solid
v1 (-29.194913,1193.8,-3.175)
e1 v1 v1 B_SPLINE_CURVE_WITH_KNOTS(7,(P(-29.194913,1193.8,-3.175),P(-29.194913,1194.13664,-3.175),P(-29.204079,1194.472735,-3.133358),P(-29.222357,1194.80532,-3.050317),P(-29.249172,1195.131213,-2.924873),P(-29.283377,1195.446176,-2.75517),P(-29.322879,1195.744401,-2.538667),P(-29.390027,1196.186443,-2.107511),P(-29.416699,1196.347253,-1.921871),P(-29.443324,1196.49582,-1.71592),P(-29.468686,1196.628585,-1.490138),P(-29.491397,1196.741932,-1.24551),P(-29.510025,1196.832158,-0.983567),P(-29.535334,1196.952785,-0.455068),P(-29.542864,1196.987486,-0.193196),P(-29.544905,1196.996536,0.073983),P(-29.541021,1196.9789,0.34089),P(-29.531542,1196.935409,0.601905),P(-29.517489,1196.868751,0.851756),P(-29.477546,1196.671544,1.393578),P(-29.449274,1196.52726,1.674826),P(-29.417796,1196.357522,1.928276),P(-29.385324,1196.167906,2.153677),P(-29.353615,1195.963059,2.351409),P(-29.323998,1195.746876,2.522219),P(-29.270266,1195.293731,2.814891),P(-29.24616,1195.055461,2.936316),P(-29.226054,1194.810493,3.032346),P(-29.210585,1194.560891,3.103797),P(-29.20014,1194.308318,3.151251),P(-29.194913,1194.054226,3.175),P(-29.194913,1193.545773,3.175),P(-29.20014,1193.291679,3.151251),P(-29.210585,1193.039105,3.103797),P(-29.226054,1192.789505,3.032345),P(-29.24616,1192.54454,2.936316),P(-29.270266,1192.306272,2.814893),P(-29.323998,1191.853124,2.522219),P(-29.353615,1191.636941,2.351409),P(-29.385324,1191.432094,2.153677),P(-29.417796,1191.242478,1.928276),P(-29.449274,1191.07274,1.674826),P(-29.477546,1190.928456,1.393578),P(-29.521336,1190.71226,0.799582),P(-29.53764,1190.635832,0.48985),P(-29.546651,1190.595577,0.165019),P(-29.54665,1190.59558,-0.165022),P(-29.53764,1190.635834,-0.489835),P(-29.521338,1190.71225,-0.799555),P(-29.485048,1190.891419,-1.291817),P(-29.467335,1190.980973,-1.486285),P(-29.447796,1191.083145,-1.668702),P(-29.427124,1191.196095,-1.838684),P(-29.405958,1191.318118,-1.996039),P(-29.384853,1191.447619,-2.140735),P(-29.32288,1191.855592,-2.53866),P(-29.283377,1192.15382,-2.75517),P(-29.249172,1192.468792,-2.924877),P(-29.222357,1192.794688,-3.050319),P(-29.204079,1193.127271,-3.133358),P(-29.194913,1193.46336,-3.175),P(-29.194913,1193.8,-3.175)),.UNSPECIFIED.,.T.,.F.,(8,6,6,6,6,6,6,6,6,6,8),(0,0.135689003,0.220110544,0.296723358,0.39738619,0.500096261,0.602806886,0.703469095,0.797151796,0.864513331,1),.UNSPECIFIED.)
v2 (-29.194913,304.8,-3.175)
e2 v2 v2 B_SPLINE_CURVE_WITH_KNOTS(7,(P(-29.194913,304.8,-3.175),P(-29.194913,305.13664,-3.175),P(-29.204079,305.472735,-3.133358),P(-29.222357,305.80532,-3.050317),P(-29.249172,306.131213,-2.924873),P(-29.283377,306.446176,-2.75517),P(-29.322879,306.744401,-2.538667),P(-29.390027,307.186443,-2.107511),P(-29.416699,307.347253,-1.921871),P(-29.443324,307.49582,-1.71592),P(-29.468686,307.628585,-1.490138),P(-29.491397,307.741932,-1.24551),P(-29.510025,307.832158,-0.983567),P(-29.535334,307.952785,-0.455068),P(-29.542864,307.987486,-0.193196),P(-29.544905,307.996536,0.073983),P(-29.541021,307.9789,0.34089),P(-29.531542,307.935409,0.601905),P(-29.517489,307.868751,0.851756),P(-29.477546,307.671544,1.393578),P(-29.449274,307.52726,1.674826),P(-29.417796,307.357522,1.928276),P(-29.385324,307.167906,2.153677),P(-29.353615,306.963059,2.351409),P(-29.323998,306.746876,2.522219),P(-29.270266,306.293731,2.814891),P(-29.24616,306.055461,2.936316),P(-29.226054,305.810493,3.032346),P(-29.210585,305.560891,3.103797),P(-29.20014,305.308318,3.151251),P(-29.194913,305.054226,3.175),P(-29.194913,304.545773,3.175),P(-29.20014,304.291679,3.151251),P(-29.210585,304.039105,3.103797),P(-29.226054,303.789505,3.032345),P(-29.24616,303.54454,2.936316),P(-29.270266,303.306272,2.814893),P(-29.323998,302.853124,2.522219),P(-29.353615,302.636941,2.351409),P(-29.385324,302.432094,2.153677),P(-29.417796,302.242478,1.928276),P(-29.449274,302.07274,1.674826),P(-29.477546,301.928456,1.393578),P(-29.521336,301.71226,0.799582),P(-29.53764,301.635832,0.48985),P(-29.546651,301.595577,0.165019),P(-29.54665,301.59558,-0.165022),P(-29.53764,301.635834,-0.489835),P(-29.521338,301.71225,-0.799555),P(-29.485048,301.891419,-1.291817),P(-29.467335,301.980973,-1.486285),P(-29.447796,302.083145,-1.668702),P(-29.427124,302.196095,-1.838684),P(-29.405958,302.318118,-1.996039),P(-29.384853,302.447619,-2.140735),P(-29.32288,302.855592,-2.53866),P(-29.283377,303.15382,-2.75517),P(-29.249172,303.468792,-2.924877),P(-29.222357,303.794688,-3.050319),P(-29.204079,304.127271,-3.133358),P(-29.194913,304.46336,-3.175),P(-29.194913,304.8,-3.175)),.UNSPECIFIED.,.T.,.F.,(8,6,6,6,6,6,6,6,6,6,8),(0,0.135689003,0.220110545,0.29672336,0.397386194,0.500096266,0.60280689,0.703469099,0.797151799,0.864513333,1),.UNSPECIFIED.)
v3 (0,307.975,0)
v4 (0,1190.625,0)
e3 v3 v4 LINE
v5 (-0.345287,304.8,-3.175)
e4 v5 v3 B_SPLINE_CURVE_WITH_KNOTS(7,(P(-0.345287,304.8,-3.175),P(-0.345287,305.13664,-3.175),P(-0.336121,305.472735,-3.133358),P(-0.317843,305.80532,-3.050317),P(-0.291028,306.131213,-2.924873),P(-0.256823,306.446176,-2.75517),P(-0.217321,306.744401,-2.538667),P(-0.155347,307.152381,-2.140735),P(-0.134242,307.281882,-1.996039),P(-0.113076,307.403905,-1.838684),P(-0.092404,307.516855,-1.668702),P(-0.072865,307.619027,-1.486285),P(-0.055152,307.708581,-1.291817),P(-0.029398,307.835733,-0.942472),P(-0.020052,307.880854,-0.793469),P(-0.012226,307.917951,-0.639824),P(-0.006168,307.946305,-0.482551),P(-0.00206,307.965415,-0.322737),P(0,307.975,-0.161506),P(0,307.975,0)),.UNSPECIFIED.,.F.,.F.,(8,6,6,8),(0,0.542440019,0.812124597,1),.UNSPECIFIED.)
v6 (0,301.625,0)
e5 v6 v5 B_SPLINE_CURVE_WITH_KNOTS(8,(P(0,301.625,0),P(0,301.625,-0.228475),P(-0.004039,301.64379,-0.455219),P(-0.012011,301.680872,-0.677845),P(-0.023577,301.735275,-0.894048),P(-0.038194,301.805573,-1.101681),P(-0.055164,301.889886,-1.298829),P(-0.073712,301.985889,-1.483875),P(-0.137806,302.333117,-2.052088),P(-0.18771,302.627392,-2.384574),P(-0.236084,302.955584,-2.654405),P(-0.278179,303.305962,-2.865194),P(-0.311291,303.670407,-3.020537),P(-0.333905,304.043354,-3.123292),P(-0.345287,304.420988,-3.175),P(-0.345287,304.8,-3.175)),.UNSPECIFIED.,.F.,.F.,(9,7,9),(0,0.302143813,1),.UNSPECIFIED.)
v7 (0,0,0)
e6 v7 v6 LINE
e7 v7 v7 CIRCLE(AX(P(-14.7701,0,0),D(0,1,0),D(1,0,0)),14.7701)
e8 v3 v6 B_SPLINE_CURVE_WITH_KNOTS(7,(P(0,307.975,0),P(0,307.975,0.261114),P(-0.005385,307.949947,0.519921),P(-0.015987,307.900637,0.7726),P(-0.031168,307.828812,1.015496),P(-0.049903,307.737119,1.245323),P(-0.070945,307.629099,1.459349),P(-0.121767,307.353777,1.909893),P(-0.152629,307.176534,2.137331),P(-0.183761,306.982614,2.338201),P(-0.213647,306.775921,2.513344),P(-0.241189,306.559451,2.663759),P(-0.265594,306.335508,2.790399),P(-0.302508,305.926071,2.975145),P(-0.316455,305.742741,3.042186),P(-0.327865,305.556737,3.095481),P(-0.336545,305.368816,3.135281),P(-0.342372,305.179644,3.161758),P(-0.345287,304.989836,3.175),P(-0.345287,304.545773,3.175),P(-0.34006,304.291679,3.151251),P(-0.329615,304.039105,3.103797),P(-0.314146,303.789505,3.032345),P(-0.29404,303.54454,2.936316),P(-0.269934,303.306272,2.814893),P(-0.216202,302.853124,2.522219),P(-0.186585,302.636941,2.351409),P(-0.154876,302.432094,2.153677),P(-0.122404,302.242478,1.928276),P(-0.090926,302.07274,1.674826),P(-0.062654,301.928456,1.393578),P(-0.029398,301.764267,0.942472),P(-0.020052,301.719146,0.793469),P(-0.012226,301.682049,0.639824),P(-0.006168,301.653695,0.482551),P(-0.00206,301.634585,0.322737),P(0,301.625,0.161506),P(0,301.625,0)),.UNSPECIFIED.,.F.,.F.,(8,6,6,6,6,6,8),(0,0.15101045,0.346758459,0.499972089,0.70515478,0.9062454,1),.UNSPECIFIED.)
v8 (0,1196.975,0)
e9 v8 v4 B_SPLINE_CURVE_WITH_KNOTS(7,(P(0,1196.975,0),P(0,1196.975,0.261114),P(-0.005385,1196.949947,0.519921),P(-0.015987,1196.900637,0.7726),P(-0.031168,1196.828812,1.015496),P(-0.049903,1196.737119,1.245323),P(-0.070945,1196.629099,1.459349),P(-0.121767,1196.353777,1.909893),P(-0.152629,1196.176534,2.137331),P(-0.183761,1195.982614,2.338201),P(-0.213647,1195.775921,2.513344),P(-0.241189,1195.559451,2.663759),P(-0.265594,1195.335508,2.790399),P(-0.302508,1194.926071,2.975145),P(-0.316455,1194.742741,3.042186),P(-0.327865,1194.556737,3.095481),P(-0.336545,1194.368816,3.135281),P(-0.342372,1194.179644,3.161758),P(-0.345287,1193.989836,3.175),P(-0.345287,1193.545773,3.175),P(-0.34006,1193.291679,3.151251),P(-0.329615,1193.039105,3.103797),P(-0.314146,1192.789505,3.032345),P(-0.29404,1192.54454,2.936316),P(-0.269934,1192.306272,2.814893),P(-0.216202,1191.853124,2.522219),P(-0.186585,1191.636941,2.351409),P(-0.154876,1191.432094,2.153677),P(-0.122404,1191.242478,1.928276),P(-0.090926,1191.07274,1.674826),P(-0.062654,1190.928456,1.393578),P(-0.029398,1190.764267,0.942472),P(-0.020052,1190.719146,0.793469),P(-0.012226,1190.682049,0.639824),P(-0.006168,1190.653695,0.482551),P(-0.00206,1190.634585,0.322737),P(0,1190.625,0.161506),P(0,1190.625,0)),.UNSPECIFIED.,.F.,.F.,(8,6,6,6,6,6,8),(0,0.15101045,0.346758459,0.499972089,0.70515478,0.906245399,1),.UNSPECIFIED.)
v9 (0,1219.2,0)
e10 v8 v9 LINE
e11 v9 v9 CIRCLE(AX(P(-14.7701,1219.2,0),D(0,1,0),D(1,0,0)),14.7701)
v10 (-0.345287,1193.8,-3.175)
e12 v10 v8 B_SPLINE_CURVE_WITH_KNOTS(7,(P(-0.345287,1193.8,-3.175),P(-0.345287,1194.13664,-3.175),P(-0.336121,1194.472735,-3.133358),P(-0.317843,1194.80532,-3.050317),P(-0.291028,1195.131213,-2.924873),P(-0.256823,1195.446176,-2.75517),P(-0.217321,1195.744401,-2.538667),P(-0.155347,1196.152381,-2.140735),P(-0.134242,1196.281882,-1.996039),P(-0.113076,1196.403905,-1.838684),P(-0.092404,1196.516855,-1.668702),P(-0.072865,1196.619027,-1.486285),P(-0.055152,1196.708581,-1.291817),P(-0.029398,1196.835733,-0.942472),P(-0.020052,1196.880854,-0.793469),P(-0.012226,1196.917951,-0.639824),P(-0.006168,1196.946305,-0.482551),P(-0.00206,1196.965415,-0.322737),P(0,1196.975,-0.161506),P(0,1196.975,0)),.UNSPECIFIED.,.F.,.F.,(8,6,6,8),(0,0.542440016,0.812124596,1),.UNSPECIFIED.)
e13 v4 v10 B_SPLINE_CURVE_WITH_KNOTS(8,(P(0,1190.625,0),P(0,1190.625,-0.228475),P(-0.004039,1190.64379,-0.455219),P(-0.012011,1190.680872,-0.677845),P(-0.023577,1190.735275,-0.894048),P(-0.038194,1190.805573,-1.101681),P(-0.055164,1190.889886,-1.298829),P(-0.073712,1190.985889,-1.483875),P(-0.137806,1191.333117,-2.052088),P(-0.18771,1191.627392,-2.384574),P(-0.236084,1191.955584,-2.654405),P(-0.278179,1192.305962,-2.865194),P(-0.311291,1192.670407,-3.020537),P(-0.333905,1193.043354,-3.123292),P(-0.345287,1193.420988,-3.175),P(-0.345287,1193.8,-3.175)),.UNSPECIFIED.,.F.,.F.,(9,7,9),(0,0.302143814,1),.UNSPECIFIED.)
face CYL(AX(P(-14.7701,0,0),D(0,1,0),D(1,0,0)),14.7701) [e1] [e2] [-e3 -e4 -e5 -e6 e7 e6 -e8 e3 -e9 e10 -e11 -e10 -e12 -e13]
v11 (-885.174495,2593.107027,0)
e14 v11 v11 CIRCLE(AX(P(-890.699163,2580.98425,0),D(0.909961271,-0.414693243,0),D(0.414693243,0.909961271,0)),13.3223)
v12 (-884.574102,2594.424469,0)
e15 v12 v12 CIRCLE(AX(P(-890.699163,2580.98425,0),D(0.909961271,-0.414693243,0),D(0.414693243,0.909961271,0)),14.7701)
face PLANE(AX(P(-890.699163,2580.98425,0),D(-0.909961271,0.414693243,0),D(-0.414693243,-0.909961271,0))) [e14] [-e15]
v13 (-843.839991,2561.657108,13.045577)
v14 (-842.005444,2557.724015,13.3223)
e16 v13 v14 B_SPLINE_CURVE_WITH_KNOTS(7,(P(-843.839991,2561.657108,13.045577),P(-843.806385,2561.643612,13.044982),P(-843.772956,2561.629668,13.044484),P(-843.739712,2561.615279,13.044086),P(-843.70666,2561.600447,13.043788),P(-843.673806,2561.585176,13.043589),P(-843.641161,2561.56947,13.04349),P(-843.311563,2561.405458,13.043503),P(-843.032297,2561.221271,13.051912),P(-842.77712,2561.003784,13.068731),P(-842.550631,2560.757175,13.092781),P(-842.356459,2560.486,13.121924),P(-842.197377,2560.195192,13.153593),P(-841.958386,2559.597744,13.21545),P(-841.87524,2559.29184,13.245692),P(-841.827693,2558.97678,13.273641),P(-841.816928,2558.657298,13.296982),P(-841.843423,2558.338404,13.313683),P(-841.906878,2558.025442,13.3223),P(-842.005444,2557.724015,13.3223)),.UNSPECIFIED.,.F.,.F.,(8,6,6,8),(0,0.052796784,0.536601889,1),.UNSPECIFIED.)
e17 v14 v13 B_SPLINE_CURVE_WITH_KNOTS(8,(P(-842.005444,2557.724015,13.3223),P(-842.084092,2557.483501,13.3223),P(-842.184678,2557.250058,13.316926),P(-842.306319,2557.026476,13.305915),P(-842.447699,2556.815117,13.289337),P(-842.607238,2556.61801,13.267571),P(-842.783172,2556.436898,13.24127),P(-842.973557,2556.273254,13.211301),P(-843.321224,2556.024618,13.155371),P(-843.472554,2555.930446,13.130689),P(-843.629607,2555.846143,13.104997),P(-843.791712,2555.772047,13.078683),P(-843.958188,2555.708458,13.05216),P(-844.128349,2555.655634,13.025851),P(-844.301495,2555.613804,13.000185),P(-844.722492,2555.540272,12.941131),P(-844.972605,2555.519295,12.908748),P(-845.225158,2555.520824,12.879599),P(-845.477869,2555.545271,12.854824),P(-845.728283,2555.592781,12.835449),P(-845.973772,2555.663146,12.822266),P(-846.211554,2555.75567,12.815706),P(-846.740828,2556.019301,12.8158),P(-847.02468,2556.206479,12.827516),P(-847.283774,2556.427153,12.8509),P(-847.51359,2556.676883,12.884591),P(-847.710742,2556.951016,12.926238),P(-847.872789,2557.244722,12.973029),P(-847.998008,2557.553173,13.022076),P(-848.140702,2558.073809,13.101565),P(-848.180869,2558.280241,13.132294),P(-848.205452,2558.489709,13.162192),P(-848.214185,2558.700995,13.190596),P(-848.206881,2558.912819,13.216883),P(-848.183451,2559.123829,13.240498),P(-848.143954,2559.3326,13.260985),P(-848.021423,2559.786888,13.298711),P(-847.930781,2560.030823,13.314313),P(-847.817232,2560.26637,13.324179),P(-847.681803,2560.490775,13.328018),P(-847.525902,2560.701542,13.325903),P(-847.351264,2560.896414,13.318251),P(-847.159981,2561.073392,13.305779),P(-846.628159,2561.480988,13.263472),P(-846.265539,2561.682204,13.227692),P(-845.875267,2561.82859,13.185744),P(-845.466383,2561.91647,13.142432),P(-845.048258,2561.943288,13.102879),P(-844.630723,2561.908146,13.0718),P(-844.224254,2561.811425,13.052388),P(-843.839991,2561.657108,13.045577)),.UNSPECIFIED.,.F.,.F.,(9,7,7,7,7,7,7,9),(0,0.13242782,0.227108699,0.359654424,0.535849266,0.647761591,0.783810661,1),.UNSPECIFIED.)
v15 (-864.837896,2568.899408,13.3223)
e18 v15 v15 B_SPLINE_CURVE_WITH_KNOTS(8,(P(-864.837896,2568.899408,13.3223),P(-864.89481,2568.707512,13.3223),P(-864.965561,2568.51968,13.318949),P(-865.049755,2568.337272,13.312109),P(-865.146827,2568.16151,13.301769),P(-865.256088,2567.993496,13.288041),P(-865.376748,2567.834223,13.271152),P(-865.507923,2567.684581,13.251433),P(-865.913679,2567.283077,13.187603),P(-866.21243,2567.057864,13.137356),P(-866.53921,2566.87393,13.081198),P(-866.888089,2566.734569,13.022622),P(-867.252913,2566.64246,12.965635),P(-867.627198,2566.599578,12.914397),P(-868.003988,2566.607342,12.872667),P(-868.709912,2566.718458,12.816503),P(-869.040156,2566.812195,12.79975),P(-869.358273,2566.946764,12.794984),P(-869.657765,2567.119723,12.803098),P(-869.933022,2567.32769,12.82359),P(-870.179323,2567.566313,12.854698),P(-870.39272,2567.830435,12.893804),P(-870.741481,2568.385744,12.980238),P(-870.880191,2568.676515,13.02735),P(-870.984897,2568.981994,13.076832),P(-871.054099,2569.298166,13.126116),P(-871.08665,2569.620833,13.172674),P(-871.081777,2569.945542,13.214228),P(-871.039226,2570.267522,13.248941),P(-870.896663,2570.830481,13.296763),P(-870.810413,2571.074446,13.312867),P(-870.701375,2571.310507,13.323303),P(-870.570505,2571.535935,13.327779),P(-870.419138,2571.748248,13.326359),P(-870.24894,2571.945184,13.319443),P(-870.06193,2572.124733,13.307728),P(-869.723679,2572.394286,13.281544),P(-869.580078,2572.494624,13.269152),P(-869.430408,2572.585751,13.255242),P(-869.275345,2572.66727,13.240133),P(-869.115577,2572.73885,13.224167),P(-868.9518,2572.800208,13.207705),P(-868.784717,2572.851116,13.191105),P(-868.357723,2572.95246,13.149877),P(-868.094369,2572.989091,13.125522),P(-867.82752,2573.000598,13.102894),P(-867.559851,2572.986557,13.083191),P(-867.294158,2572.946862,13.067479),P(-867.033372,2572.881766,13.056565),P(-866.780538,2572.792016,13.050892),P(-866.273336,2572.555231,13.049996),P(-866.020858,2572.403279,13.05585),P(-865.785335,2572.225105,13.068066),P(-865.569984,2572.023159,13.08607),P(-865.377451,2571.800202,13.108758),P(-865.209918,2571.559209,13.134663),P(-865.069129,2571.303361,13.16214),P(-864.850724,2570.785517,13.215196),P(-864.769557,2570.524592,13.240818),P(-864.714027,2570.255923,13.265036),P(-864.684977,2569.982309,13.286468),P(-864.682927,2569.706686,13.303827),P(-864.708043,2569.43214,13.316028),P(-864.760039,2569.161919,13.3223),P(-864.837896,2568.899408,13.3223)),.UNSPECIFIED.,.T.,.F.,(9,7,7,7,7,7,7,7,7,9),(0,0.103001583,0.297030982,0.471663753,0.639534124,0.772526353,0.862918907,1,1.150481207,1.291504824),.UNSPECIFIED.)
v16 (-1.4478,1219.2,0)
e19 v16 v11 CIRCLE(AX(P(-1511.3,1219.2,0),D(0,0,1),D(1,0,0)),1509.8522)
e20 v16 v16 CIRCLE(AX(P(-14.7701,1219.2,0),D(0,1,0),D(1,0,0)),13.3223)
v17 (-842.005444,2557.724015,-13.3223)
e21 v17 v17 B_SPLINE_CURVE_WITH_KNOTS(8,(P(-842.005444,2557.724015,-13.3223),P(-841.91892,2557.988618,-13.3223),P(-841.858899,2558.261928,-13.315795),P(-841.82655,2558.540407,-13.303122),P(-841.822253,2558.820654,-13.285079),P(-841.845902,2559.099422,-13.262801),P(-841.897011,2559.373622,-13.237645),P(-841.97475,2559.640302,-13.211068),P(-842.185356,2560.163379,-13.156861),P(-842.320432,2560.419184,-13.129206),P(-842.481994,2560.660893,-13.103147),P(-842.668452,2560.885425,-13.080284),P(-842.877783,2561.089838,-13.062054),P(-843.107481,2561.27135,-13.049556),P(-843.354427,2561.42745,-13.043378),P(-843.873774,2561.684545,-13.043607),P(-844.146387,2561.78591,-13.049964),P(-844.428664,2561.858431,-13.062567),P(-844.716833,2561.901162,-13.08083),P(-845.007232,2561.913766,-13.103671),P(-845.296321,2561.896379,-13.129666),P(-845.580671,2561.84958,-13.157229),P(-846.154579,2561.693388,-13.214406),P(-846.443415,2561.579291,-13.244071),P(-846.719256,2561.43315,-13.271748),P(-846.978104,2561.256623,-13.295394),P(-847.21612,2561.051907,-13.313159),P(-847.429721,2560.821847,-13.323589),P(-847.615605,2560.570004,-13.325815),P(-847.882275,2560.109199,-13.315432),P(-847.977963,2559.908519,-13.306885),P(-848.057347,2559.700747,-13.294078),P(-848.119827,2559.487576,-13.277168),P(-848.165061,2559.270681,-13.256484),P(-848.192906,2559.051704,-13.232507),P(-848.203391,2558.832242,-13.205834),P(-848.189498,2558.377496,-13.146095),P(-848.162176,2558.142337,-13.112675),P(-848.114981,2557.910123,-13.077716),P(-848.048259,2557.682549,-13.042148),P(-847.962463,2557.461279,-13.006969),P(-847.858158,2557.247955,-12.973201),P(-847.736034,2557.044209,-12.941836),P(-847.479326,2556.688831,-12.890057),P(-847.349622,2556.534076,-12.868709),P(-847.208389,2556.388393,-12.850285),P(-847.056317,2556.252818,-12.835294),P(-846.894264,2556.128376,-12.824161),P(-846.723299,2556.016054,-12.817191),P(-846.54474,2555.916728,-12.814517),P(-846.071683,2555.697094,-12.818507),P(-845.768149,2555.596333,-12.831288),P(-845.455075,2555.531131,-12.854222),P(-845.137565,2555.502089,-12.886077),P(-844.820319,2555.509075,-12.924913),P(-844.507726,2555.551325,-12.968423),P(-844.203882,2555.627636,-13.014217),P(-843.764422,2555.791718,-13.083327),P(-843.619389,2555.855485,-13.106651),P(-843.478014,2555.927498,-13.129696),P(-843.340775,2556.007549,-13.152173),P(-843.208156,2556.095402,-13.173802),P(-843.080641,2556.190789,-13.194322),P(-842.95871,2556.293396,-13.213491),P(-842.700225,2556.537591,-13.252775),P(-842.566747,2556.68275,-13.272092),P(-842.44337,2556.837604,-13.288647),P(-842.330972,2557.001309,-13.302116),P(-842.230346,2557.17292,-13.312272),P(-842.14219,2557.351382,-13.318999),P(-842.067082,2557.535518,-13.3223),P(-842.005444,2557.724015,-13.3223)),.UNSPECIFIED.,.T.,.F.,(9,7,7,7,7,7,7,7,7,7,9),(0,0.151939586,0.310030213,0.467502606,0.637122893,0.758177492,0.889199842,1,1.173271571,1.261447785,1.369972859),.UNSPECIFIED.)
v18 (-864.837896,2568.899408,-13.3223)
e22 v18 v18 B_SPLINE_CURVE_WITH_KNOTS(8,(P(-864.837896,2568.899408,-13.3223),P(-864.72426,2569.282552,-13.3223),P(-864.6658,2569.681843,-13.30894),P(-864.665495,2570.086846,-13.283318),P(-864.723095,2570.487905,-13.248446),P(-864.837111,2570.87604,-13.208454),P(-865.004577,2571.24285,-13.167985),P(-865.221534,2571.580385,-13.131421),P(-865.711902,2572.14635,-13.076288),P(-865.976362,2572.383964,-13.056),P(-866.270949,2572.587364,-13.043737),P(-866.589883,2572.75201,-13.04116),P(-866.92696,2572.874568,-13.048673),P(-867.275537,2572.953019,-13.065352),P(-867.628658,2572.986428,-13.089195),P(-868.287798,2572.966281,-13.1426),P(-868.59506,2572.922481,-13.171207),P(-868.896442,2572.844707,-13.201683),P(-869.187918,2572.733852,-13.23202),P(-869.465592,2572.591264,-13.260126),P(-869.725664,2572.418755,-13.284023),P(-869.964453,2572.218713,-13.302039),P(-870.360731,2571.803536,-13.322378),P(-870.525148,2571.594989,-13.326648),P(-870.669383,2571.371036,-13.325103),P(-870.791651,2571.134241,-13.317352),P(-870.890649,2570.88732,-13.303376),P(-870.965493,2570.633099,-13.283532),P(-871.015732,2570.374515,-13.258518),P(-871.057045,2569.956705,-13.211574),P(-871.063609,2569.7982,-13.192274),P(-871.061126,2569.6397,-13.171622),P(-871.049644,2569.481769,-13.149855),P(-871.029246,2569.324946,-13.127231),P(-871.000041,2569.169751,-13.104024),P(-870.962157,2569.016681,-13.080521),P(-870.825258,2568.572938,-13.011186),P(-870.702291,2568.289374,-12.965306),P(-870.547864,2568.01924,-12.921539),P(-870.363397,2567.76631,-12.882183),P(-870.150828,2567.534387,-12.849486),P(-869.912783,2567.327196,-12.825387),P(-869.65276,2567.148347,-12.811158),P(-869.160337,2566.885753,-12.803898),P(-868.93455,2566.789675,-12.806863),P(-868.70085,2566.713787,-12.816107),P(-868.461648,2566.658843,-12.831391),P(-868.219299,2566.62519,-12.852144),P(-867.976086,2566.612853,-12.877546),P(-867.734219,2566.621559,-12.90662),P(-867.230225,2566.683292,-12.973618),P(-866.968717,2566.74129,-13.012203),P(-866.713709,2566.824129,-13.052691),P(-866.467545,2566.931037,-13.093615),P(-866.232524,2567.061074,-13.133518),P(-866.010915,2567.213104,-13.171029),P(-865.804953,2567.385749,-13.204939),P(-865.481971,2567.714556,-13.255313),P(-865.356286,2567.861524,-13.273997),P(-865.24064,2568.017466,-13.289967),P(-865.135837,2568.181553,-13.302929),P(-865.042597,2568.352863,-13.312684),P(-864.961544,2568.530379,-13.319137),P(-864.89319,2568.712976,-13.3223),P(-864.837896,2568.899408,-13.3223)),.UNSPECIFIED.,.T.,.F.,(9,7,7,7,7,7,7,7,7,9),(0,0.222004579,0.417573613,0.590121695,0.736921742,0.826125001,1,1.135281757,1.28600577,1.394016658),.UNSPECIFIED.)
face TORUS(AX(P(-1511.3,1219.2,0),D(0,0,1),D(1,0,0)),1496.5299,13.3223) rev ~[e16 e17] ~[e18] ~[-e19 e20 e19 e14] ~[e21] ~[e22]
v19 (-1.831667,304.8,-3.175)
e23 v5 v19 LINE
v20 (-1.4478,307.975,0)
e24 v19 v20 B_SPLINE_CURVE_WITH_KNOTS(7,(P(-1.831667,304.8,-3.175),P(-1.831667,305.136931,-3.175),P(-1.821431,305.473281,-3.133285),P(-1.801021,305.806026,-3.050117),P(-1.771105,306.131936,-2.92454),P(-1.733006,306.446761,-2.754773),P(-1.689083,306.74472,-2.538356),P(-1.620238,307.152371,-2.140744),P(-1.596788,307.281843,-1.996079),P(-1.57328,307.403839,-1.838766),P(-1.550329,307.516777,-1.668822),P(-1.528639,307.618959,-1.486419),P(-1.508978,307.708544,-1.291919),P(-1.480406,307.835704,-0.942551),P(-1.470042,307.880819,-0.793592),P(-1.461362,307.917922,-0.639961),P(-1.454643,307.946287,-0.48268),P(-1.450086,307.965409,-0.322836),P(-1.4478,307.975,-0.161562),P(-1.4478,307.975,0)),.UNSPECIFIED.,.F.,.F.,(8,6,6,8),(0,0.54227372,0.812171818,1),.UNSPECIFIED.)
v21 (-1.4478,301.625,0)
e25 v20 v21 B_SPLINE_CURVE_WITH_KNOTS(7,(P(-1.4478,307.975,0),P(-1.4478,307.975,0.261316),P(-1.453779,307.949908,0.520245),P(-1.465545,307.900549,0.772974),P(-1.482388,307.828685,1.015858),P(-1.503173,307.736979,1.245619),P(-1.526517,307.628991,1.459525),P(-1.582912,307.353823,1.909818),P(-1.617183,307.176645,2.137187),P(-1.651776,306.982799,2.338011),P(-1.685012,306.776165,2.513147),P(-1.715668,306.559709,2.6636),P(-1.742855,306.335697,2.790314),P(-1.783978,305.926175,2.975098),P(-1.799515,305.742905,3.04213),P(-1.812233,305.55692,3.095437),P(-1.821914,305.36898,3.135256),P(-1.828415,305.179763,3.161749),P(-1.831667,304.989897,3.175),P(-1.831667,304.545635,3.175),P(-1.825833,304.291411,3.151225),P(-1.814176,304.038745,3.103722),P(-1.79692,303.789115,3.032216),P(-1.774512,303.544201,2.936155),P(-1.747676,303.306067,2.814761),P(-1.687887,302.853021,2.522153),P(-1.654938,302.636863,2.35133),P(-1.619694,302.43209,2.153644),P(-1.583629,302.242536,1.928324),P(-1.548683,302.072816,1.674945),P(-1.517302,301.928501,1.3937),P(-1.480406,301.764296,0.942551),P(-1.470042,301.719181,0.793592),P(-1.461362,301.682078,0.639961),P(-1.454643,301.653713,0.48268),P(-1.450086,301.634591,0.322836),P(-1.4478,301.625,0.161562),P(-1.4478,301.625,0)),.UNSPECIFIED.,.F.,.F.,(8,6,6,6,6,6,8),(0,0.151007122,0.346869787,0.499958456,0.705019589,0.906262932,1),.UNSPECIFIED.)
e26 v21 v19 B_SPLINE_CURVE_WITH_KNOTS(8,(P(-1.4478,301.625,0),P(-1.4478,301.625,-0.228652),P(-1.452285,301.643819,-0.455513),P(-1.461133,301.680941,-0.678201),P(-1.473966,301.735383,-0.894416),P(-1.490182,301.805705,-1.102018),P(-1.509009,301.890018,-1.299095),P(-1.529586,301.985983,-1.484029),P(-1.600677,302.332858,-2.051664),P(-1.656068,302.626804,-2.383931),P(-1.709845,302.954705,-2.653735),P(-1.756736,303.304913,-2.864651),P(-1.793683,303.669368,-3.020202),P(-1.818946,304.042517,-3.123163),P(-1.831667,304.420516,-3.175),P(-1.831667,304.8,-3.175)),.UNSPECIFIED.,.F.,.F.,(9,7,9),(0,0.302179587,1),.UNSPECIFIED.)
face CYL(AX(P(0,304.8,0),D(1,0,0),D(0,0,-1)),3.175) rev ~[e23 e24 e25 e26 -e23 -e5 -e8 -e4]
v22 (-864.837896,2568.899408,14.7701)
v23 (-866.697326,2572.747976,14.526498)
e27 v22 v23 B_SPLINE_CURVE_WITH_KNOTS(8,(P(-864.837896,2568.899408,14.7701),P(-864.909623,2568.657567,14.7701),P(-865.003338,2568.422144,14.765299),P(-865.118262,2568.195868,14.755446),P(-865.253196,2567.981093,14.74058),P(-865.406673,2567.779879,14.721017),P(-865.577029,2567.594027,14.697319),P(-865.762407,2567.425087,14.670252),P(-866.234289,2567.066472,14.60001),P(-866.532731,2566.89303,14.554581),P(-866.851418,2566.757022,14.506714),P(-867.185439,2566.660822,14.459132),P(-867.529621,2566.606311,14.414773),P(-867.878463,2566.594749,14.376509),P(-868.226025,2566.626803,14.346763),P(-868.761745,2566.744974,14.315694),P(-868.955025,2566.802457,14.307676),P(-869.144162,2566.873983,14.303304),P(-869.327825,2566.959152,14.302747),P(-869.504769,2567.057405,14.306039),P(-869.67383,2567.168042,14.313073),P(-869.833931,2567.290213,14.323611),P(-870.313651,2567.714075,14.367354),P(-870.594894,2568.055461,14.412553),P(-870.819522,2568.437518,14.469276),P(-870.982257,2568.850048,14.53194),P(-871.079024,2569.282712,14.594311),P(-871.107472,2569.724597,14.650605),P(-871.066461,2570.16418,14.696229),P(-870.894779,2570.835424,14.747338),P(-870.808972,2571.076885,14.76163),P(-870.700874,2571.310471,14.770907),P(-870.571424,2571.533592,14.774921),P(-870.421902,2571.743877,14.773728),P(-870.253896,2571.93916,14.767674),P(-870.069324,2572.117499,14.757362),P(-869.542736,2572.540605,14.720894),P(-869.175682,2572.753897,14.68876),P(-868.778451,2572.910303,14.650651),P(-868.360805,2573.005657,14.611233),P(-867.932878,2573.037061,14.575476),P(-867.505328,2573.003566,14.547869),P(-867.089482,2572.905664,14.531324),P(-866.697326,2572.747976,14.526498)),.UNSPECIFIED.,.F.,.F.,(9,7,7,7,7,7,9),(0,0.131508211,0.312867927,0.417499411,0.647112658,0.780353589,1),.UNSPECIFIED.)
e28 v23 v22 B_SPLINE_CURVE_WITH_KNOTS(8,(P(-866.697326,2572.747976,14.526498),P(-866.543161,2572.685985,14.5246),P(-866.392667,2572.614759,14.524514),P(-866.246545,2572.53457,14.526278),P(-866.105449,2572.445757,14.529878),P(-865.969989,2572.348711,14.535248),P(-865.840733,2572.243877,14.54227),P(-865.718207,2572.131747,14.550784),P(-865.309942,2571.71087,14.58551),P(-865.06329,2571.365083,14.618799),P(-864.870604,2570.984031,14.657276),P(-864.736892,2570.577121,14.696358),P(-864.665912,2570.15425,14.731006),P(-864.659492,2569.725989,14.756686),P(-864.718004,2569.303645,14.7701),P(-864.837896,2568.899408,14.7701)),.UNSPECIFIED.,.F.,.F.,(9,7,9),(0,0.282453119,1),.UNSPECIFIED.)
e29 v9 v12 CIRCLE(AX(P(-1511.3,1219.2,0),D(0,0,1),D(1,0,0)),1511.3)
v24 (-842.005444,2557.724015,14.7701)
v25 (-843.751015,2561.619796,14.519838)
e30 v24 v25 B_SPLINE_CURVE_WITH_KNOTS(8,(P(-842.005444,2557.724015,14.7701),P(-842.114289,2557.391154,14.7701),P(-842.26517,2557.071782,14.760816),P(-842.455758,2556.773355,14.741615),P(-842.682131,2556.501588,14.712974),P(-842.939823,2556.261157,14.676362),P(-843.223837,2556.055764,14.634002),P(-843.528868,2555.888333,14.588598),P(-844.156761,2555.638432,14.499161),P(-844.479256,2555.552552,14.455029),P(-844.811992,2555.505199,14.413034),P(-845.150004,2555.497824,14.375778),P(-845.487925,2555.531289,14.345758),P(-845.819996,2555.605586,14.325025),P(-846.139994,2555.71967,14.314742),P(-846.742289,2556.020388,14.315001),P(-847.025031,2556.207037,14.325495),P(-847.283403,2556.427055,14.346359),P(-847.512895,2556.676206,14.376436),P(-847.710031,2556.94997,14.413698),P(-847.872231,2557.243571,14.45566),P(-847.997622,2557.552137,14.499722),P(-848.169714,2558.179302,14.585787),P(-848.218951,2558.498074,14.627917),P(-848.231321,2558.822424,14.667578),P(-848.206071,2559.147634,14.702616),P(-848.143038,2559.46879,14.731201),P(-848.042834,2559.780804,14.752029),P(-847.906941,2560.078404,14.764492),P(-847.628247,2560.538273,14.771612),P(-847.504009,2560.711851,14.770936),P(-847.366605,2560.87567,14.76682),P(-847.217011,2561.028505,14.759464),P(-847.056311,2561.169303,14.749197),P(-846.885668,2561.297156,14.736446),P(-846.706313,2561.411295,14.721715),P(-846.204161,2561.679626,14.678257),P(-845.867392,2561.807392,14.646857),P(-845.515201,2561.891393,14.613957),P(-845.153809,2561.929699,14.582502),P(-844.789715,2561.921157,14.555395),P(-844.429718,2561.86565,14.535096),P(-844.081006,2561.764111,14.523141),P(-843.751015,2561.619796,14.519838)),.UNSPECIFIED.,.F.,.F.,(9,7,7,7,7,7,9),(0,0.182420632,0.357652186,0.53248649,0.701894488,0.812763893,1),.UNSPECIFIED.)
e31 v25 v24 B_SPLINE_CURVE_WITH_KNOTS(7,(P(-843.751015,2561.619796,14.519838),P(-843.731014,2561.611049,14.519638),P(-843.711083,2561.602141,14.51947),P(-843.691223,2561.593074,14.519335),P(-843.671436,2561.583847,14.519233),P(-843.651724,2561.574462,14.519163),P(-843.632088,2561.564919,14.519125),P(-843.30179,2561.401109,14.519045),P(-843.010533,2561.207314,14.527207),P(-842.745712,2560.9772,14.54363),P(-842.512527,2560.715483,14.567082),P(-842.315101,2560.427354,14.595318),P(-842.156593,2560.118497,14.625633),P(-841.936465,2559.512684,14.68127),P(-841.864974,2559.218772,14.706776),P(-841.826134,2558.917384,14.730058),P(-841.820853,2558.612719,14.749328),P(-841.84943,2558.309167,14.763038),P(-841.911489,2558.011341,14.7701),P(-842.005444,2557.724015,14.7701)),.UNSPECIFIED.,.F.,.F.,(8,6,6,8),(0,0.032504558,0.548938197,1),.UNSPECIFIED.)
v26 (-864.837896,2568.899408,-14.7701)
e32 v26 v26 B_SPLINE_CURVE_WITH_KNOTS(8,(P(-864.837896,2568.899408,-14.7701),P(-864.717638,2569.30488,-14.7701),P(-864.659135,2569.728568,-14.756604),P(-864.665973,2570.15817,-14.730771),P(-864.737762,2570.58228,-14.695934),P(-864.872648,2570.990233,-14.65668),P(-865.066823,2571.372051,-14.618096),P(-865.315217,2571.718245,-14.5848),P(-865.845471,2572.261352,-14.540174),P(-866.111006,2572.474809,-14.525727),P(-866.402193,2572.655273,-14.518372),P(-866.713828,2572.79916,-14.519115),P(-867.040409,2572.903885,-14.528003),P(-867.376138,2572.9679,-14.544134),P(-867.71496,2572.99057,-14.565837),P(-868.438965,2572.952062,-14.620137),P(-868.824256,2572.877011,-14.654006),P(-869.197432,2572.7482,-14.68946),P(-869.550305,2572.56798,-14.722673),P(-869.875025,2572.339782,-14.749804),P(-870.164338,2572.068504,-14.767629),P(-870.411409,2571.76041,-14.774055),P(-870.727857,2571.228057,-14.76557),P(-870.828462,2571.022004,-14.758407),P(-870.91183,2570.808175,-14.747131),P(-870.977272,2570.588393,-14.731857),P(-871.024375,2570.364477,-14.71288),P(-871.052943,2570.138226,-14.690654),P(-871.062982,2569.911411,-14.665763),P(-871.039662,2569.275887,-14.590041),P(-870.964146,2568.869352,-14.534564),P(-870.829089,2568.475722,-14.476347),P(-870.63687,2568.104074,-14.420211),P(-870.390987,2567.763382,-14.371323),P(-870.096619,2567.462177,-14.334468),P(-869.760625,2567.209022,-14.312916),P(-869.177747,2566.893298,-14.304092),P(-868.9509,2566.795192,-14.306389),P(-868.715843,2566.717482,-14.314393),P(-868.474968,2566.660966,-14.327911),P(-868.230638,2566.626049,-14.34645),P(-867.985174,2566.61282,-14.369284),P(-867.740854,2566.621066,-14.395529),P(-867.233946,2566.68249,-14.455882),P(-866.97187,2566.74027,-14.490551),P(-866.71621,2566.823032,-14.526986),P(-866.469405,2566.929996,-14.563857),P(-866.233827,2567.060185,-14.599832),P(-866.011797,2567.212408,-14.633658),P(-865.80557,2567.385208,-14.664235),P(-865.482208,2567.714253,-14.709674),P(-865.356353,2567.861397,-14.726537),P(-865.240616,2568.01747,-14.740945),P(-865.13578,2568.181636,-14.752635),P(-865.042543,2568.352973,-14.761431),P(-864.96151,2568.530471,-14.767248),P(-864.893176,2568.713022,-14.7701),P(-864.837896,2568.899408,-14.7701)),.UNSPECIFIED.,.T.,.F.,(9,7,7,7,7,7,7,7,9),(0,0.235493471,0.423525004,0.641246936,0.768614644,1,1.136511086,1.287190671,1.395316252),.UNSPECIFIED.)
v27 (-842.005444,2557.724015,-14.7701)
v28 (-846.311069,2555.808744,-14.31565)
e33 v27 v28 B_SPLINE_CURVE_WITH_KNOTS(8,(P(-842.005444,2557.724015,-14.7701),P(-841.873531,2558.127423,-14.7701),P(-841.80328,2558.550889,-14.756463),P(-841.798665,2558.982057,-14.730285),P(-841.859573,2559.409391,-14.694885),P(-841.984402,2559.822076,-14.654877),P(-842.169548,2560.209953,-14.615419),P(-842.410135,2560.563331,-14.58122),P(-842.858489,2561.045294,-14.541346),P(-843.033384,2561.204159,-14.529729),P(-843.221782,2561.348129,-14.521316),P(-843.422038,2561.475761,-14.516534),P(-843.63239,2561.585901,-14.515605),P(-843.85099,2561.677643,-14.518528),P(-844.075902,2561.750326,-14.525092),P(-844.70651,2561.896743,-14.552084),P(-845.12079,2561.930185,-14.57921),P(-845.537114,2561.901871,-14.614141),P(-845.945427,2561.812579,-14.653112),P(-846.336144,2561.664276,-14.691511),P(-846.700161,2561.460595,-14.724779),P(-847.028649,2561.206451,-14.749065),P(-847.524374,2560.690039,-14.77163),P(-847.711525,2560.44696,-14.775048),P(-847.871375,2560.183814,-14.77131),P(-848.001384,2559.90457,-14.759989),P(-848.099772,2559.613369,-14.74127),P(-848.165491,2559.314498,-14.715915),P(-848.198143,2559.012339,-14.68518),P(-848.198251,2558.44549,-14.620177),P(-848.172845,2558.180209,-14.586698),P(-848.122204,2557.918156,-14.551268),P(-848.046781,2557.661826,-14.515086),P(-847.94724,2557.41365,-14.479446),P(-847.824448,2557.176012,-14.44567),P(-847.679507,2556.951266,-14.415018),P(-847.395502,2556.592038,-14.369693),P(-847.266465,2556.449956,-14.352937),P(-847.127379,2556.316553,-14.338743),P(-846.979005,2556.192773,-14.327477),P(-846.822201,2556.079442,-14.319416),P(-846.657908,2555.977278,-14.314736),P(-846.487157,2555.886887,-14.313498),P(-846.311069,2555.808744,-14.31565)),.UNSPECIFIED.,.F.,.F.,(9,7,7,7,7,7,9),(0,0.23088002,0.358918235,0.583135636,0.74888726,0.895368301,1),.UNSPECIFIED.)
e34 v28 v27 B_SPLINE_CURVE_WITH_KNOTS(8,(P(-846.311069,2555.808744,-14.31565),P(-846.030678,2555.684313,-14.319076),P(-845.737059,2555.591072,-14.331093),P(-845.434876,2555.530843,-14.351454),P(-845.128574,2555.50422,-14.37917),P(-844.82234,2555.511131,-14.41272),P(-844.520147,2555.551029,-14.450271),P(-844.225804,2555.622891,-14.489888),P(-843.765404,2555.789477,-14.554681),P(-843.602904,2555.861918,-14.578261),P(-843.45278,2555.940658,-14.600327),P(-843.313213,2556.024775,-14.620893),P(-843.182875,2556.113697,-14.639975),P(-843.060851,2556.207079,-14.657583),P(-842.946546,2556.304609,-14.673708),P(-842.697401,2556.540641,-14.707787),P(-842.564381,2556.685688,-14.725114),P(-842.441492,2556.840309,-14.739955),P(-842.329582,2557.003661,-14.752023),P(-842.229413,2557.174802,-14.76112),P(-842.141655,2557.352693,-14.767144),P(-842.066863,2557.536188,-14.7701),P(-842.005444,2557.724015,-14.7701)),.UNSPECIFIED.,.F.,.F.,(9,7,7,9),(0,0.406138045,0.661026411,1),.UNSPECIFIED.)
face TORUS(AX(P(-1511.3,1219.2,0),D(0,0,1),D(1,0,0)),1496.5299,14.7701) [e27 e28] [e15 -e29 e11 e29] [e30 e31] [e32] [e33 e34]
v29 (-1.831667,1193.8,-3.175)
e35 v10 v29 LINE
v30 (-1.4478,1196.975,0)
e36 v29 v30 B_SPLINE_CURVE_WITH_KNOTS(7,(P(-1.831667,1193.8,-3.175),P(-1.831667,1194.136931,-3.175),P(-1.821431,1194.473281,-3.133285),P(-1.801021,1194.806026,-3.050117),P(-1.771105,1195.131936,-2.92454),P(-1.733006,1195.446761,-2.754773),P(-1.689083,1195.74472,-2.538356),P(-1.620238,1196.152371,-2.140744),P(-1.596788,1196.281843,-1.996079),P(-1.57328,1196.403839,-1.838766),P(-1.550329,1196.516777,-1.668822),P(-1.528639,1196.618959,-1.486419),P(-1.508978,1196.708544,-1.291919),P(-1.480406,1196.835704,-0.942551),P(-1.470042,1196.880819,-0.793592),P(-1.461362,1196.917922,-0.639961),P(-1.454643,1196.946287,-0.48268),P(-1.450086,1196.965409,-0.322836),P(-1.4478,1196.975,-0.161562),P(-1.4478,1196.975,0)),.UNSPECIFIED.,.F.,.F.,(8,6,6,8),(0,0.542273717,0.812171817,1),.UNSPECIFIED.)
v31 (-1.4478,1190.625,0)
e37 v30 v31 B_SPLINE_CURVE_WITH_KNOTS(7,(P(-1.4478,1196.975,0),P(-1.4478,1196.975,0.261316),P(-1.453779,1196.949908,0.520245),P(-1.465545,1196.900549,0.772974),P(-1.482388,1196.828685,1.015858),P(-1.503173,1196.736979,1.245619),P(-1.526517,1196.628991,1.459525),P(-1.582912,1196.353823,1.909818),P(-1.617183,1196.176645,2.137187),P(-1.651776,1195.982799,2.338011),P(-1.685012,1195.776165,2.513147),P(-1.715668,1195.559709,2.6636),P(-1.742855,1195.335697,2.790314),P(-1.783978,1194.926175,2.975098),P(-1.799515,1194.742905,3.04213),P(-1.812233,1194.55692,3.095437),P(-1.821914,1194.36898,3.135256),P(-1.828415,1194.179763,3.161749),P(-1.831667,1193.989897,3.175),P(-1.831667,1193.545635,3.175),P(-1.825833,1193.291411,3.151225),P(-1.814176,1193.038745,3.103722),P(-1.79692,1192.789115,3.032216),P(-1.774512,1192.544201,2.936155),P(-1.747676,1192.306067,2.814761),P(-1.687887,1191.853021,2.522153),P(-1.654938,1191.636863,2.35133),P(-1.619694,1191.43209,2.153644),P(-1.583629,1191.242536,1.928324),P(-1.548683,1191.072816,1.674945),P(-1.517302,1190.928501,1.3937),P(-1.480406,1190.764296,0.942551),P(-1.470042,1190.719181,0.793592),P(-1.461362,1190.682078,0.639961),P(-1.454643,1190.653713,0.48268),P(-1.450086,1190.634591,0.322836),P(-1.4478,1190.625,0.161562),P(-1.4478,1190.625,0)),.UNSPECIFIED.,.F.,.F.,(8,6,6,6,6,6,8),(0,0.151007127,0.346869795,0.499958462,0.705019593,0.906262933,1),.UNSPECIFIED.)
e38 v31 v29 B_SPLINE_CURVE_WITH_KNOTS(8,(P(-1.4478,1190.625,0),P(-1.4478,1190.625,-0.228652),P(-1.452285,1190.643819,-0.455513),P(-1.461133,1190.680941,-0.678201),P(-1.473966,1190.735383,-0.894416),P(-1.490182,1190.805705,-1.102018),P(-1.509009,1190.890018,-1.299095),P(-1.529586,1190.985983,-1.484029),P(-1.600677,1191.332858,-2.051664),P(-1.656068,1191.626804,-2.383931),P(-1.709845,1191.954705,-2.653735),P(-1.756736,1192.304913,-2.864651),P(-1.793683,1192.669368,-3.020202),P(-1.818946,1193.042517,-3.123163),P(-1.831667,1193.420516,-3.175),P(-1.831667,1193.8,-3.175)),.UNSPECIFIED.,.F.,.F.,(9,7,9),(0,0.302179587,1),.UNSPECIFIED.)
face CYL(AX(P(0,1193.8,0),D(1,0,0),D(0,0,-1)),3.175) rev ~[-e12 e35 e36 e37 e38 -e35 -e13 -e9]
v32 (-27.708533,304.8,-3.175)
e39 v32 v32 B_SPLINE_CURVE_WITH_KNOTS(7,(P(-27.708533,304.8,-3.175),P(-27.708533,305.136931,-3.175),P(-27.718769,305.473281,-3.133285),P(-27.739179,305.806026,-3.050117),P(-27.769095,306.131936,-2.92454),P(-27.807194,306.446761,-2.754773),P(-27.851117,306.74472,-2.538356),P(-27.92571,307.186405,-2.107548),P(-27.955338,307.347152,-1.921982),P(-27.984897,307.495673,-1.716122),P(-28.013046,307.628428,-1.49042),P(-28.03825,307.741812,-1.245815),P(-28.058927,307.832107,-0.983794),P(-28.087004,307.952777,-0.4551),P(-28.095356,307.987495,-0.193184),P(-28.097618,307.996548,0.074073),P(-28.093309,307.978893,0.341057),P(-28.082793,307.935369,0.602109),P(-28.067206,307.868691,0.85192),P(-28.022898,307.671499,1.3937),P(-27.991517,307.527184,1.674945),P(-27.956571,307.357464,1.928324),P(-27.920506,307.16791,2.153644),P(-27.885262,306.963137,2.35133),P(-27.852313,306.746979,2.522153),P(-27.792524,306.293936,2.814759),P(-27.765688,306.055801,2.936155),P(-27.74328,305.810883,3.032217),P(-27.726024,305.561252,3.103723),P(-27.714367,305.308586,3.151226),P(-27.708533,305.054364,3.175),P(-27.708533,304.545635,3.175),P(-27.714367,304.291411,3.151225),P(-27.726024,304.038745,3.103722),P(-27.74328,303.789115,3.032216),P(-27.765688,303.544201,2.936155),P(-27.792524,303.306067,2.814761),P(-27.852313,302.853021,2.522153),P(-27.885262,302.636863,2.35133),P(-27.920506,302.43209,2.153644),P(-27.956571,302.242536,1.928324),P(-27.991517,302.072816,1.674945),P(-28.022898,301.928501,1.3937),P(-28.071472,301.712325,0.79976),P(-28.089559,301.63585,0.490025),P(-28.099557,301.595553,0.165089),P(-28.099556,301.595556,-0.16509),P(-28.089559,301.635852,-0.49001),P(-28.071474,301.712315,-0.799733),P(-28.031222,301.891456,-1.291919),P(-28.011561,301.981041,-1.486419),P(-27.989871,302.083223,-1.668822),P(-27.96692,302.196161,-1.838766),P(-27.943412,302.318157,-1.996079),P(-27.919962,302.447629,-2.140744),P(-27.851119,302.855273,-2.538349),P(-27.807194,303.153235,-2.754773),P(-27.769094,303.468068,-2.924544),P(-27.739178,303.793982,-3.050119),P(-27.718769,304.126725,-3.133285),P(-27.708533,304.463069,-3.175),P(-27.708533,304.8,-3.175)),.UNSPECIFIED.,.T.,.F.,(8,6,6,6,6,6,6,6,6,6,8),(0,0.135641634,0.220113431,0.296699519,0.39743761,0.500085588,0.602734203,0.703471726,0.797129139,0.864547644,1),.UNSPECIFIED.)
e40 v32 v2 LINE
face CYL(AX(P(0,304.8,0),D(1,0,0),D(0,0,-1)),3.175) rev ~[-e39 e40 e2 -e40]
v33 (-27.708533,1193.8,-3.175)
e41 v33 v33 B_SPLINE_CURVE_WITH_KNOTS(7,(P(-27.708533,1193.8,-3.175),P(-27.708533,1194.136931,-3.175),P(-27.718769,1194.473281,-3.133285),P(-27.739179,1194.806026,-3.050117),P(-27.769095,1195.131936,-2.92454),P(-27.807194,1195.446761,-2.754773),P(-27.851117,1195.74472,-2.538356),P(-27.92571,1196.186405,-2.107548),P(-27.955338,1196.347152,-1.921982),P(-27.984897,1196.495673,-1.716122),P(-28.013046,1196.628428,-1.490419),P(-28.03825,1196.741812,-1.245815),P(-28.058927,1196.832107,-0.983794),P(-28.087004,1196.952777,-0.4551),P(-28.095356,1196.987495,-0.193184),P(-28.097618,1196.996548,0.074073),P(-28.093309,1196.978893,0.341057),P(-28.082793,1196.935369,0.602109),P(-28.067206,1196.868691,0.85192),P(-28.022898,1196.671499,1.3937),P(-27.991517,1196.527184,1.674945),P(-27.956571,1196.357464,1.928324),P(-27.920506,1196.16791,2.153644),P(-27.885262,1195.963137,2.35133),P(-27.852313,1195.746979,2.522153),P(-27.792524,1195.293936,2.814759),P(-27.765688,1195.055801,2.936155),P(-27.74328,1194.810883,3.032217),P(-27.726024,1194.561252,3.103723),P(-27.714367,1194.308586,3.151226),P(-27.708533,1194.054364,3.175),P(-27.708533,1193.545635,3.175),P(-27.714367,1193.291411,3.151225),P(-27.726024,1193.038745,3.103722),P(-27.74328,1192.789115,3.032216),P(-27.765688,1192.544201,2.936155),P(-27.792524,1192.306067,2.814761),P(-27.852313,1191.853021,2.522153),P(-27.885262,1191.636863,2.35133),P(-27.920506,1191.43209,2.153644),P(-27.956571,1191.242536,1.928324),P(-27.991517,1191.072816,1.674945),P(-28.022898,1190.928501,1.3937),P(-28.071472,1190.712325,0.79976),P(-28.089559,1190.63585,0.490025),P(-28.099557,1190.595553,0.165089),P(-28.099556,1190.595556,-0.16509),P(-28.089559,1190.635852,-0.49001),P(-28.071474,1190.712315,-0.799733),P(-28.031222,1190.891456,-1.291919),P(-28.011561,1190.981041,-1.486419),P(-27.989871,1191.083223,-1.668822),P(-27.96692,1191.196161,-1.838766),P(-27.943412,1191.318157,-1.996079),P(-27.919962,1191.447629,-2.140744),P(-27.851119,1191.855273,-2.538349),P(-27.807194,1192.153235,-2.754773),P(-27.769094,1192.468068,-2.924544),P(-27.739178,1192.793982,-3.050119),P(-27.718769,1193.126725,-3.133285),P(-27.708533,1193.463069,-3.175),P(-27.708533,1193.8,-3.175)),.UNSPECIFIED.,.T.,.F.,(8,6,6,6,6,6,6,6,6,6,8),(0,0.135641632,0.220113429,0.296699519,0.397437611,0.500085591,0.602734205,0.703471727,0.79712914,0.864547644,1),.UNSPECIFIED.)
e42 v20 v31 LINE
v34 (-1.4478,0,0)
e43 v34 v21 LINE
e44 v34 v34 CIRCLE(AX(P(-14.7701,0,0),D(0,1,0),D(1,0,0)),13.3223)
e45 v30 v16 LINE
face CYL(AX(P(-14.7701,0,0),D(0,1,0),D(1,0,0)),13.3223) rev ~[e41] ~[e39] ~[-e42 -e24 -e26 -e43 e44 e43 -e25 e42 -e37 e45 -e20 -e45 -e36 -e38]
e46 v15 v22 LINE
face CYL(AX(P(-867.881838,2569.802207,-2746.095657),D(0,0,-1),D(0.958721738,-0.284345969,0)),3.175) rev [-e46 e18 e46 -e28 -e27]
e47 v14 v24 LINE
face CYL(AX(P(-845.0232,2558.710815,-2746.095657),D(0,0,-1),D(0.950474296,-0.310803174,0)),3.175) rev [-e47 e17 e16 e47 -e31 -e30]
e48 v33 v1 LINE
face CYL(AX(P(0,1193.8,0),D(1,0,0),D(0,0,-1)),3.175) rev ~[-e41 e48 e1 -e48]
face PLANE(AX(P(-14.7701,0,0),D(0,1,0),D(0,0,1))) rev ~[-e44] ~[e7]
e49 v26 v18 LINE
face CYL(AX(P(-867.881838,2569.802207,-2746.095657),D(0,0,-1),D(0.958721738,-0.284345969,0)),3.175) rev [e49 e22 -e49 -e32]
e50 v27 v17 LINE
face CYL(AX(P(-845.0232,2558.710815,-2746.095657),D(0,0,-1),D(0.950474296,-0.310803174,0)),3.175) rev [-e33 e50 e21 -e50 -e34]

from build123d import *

# Parameters (mm, degrees)
SKETCH2_R               = 14.7701
SKETCH2_R_2             = 13.3223
SKETCH7_R               = 3.175
CUT_EXTRUDE1_DEPTH      = 31.75
CUT_EXTRUDE2_DEPTH      = 2746.095657429
CUT_EXTRUDE2_DEPTH_BACK = 2746.095657429
SKETCH8_R               = 3.175


with BuildPart() as part:
    # Sweep1: sweep along a path in Sketch1
    with BuildLine(Plane.XY) as sweep1_path:
        Line((0, 0), (0, 1219.2))
        ThreePointArc((0, 1219.2), (-240.237739707, 2036.774718578), (-884.574102374, 2594.424468676))
    # Sketch2 → Sweep1 (sweep)
    with BuildSketch(Plane(origin=(0, 0, 0), x_dir=(1, 0, 0), z_dir=(0, 1, 0))):
        with Locations((-14.7701, 0)):
            Circle(SKETCH2_R)
        with Locations((-14.7701, 0)):
            Circle(SKETCH2_R_2, mode=Mode.SUBTRACT)
    sweep(path=sweep1_path.line)

    # Sketch7 → Cut-Extrude1 (cut)
    with BuildSketch(Plane(origin=(0, 0, 0), x_dir=(0, 0, -1), z_dir=(1, 0, 0))):
        with Locations((0, 304.8)):
            Circle(SKETCH7_R)
        with Locations((0, 1193.8)):
            Circle(SKETCH7_R)
    extrude(amount=-CUT_EXTRUDE1_DEPTH, mode=Mode.SUBTRACT)

    # Sketch8 → Cut-Extrude2 (cut, two sides: drawn at the far end of the back side and taken through both)
    with BuildSketch(Plane.XY.offset(-CUT_EXTRUDE2_DEPTH_BACK)):
        with Locations(Location((-867.881837823, 2569.802206518, 0), (0, 0, 343.480242045))):
            Circle(SKETCH8_R)
        with Locations(Location((-845.023200114, 2558.710815323, 0), (0, 0, 341.89235985))):
            Circle(SKETCH8_R)
    extrude(amount=CUT_EXTRUDE2_DEPTH + CUT_EXTRUDE2_DEPTH_BACK, mode=Mode.SUBTRACT)


solid = part.part
